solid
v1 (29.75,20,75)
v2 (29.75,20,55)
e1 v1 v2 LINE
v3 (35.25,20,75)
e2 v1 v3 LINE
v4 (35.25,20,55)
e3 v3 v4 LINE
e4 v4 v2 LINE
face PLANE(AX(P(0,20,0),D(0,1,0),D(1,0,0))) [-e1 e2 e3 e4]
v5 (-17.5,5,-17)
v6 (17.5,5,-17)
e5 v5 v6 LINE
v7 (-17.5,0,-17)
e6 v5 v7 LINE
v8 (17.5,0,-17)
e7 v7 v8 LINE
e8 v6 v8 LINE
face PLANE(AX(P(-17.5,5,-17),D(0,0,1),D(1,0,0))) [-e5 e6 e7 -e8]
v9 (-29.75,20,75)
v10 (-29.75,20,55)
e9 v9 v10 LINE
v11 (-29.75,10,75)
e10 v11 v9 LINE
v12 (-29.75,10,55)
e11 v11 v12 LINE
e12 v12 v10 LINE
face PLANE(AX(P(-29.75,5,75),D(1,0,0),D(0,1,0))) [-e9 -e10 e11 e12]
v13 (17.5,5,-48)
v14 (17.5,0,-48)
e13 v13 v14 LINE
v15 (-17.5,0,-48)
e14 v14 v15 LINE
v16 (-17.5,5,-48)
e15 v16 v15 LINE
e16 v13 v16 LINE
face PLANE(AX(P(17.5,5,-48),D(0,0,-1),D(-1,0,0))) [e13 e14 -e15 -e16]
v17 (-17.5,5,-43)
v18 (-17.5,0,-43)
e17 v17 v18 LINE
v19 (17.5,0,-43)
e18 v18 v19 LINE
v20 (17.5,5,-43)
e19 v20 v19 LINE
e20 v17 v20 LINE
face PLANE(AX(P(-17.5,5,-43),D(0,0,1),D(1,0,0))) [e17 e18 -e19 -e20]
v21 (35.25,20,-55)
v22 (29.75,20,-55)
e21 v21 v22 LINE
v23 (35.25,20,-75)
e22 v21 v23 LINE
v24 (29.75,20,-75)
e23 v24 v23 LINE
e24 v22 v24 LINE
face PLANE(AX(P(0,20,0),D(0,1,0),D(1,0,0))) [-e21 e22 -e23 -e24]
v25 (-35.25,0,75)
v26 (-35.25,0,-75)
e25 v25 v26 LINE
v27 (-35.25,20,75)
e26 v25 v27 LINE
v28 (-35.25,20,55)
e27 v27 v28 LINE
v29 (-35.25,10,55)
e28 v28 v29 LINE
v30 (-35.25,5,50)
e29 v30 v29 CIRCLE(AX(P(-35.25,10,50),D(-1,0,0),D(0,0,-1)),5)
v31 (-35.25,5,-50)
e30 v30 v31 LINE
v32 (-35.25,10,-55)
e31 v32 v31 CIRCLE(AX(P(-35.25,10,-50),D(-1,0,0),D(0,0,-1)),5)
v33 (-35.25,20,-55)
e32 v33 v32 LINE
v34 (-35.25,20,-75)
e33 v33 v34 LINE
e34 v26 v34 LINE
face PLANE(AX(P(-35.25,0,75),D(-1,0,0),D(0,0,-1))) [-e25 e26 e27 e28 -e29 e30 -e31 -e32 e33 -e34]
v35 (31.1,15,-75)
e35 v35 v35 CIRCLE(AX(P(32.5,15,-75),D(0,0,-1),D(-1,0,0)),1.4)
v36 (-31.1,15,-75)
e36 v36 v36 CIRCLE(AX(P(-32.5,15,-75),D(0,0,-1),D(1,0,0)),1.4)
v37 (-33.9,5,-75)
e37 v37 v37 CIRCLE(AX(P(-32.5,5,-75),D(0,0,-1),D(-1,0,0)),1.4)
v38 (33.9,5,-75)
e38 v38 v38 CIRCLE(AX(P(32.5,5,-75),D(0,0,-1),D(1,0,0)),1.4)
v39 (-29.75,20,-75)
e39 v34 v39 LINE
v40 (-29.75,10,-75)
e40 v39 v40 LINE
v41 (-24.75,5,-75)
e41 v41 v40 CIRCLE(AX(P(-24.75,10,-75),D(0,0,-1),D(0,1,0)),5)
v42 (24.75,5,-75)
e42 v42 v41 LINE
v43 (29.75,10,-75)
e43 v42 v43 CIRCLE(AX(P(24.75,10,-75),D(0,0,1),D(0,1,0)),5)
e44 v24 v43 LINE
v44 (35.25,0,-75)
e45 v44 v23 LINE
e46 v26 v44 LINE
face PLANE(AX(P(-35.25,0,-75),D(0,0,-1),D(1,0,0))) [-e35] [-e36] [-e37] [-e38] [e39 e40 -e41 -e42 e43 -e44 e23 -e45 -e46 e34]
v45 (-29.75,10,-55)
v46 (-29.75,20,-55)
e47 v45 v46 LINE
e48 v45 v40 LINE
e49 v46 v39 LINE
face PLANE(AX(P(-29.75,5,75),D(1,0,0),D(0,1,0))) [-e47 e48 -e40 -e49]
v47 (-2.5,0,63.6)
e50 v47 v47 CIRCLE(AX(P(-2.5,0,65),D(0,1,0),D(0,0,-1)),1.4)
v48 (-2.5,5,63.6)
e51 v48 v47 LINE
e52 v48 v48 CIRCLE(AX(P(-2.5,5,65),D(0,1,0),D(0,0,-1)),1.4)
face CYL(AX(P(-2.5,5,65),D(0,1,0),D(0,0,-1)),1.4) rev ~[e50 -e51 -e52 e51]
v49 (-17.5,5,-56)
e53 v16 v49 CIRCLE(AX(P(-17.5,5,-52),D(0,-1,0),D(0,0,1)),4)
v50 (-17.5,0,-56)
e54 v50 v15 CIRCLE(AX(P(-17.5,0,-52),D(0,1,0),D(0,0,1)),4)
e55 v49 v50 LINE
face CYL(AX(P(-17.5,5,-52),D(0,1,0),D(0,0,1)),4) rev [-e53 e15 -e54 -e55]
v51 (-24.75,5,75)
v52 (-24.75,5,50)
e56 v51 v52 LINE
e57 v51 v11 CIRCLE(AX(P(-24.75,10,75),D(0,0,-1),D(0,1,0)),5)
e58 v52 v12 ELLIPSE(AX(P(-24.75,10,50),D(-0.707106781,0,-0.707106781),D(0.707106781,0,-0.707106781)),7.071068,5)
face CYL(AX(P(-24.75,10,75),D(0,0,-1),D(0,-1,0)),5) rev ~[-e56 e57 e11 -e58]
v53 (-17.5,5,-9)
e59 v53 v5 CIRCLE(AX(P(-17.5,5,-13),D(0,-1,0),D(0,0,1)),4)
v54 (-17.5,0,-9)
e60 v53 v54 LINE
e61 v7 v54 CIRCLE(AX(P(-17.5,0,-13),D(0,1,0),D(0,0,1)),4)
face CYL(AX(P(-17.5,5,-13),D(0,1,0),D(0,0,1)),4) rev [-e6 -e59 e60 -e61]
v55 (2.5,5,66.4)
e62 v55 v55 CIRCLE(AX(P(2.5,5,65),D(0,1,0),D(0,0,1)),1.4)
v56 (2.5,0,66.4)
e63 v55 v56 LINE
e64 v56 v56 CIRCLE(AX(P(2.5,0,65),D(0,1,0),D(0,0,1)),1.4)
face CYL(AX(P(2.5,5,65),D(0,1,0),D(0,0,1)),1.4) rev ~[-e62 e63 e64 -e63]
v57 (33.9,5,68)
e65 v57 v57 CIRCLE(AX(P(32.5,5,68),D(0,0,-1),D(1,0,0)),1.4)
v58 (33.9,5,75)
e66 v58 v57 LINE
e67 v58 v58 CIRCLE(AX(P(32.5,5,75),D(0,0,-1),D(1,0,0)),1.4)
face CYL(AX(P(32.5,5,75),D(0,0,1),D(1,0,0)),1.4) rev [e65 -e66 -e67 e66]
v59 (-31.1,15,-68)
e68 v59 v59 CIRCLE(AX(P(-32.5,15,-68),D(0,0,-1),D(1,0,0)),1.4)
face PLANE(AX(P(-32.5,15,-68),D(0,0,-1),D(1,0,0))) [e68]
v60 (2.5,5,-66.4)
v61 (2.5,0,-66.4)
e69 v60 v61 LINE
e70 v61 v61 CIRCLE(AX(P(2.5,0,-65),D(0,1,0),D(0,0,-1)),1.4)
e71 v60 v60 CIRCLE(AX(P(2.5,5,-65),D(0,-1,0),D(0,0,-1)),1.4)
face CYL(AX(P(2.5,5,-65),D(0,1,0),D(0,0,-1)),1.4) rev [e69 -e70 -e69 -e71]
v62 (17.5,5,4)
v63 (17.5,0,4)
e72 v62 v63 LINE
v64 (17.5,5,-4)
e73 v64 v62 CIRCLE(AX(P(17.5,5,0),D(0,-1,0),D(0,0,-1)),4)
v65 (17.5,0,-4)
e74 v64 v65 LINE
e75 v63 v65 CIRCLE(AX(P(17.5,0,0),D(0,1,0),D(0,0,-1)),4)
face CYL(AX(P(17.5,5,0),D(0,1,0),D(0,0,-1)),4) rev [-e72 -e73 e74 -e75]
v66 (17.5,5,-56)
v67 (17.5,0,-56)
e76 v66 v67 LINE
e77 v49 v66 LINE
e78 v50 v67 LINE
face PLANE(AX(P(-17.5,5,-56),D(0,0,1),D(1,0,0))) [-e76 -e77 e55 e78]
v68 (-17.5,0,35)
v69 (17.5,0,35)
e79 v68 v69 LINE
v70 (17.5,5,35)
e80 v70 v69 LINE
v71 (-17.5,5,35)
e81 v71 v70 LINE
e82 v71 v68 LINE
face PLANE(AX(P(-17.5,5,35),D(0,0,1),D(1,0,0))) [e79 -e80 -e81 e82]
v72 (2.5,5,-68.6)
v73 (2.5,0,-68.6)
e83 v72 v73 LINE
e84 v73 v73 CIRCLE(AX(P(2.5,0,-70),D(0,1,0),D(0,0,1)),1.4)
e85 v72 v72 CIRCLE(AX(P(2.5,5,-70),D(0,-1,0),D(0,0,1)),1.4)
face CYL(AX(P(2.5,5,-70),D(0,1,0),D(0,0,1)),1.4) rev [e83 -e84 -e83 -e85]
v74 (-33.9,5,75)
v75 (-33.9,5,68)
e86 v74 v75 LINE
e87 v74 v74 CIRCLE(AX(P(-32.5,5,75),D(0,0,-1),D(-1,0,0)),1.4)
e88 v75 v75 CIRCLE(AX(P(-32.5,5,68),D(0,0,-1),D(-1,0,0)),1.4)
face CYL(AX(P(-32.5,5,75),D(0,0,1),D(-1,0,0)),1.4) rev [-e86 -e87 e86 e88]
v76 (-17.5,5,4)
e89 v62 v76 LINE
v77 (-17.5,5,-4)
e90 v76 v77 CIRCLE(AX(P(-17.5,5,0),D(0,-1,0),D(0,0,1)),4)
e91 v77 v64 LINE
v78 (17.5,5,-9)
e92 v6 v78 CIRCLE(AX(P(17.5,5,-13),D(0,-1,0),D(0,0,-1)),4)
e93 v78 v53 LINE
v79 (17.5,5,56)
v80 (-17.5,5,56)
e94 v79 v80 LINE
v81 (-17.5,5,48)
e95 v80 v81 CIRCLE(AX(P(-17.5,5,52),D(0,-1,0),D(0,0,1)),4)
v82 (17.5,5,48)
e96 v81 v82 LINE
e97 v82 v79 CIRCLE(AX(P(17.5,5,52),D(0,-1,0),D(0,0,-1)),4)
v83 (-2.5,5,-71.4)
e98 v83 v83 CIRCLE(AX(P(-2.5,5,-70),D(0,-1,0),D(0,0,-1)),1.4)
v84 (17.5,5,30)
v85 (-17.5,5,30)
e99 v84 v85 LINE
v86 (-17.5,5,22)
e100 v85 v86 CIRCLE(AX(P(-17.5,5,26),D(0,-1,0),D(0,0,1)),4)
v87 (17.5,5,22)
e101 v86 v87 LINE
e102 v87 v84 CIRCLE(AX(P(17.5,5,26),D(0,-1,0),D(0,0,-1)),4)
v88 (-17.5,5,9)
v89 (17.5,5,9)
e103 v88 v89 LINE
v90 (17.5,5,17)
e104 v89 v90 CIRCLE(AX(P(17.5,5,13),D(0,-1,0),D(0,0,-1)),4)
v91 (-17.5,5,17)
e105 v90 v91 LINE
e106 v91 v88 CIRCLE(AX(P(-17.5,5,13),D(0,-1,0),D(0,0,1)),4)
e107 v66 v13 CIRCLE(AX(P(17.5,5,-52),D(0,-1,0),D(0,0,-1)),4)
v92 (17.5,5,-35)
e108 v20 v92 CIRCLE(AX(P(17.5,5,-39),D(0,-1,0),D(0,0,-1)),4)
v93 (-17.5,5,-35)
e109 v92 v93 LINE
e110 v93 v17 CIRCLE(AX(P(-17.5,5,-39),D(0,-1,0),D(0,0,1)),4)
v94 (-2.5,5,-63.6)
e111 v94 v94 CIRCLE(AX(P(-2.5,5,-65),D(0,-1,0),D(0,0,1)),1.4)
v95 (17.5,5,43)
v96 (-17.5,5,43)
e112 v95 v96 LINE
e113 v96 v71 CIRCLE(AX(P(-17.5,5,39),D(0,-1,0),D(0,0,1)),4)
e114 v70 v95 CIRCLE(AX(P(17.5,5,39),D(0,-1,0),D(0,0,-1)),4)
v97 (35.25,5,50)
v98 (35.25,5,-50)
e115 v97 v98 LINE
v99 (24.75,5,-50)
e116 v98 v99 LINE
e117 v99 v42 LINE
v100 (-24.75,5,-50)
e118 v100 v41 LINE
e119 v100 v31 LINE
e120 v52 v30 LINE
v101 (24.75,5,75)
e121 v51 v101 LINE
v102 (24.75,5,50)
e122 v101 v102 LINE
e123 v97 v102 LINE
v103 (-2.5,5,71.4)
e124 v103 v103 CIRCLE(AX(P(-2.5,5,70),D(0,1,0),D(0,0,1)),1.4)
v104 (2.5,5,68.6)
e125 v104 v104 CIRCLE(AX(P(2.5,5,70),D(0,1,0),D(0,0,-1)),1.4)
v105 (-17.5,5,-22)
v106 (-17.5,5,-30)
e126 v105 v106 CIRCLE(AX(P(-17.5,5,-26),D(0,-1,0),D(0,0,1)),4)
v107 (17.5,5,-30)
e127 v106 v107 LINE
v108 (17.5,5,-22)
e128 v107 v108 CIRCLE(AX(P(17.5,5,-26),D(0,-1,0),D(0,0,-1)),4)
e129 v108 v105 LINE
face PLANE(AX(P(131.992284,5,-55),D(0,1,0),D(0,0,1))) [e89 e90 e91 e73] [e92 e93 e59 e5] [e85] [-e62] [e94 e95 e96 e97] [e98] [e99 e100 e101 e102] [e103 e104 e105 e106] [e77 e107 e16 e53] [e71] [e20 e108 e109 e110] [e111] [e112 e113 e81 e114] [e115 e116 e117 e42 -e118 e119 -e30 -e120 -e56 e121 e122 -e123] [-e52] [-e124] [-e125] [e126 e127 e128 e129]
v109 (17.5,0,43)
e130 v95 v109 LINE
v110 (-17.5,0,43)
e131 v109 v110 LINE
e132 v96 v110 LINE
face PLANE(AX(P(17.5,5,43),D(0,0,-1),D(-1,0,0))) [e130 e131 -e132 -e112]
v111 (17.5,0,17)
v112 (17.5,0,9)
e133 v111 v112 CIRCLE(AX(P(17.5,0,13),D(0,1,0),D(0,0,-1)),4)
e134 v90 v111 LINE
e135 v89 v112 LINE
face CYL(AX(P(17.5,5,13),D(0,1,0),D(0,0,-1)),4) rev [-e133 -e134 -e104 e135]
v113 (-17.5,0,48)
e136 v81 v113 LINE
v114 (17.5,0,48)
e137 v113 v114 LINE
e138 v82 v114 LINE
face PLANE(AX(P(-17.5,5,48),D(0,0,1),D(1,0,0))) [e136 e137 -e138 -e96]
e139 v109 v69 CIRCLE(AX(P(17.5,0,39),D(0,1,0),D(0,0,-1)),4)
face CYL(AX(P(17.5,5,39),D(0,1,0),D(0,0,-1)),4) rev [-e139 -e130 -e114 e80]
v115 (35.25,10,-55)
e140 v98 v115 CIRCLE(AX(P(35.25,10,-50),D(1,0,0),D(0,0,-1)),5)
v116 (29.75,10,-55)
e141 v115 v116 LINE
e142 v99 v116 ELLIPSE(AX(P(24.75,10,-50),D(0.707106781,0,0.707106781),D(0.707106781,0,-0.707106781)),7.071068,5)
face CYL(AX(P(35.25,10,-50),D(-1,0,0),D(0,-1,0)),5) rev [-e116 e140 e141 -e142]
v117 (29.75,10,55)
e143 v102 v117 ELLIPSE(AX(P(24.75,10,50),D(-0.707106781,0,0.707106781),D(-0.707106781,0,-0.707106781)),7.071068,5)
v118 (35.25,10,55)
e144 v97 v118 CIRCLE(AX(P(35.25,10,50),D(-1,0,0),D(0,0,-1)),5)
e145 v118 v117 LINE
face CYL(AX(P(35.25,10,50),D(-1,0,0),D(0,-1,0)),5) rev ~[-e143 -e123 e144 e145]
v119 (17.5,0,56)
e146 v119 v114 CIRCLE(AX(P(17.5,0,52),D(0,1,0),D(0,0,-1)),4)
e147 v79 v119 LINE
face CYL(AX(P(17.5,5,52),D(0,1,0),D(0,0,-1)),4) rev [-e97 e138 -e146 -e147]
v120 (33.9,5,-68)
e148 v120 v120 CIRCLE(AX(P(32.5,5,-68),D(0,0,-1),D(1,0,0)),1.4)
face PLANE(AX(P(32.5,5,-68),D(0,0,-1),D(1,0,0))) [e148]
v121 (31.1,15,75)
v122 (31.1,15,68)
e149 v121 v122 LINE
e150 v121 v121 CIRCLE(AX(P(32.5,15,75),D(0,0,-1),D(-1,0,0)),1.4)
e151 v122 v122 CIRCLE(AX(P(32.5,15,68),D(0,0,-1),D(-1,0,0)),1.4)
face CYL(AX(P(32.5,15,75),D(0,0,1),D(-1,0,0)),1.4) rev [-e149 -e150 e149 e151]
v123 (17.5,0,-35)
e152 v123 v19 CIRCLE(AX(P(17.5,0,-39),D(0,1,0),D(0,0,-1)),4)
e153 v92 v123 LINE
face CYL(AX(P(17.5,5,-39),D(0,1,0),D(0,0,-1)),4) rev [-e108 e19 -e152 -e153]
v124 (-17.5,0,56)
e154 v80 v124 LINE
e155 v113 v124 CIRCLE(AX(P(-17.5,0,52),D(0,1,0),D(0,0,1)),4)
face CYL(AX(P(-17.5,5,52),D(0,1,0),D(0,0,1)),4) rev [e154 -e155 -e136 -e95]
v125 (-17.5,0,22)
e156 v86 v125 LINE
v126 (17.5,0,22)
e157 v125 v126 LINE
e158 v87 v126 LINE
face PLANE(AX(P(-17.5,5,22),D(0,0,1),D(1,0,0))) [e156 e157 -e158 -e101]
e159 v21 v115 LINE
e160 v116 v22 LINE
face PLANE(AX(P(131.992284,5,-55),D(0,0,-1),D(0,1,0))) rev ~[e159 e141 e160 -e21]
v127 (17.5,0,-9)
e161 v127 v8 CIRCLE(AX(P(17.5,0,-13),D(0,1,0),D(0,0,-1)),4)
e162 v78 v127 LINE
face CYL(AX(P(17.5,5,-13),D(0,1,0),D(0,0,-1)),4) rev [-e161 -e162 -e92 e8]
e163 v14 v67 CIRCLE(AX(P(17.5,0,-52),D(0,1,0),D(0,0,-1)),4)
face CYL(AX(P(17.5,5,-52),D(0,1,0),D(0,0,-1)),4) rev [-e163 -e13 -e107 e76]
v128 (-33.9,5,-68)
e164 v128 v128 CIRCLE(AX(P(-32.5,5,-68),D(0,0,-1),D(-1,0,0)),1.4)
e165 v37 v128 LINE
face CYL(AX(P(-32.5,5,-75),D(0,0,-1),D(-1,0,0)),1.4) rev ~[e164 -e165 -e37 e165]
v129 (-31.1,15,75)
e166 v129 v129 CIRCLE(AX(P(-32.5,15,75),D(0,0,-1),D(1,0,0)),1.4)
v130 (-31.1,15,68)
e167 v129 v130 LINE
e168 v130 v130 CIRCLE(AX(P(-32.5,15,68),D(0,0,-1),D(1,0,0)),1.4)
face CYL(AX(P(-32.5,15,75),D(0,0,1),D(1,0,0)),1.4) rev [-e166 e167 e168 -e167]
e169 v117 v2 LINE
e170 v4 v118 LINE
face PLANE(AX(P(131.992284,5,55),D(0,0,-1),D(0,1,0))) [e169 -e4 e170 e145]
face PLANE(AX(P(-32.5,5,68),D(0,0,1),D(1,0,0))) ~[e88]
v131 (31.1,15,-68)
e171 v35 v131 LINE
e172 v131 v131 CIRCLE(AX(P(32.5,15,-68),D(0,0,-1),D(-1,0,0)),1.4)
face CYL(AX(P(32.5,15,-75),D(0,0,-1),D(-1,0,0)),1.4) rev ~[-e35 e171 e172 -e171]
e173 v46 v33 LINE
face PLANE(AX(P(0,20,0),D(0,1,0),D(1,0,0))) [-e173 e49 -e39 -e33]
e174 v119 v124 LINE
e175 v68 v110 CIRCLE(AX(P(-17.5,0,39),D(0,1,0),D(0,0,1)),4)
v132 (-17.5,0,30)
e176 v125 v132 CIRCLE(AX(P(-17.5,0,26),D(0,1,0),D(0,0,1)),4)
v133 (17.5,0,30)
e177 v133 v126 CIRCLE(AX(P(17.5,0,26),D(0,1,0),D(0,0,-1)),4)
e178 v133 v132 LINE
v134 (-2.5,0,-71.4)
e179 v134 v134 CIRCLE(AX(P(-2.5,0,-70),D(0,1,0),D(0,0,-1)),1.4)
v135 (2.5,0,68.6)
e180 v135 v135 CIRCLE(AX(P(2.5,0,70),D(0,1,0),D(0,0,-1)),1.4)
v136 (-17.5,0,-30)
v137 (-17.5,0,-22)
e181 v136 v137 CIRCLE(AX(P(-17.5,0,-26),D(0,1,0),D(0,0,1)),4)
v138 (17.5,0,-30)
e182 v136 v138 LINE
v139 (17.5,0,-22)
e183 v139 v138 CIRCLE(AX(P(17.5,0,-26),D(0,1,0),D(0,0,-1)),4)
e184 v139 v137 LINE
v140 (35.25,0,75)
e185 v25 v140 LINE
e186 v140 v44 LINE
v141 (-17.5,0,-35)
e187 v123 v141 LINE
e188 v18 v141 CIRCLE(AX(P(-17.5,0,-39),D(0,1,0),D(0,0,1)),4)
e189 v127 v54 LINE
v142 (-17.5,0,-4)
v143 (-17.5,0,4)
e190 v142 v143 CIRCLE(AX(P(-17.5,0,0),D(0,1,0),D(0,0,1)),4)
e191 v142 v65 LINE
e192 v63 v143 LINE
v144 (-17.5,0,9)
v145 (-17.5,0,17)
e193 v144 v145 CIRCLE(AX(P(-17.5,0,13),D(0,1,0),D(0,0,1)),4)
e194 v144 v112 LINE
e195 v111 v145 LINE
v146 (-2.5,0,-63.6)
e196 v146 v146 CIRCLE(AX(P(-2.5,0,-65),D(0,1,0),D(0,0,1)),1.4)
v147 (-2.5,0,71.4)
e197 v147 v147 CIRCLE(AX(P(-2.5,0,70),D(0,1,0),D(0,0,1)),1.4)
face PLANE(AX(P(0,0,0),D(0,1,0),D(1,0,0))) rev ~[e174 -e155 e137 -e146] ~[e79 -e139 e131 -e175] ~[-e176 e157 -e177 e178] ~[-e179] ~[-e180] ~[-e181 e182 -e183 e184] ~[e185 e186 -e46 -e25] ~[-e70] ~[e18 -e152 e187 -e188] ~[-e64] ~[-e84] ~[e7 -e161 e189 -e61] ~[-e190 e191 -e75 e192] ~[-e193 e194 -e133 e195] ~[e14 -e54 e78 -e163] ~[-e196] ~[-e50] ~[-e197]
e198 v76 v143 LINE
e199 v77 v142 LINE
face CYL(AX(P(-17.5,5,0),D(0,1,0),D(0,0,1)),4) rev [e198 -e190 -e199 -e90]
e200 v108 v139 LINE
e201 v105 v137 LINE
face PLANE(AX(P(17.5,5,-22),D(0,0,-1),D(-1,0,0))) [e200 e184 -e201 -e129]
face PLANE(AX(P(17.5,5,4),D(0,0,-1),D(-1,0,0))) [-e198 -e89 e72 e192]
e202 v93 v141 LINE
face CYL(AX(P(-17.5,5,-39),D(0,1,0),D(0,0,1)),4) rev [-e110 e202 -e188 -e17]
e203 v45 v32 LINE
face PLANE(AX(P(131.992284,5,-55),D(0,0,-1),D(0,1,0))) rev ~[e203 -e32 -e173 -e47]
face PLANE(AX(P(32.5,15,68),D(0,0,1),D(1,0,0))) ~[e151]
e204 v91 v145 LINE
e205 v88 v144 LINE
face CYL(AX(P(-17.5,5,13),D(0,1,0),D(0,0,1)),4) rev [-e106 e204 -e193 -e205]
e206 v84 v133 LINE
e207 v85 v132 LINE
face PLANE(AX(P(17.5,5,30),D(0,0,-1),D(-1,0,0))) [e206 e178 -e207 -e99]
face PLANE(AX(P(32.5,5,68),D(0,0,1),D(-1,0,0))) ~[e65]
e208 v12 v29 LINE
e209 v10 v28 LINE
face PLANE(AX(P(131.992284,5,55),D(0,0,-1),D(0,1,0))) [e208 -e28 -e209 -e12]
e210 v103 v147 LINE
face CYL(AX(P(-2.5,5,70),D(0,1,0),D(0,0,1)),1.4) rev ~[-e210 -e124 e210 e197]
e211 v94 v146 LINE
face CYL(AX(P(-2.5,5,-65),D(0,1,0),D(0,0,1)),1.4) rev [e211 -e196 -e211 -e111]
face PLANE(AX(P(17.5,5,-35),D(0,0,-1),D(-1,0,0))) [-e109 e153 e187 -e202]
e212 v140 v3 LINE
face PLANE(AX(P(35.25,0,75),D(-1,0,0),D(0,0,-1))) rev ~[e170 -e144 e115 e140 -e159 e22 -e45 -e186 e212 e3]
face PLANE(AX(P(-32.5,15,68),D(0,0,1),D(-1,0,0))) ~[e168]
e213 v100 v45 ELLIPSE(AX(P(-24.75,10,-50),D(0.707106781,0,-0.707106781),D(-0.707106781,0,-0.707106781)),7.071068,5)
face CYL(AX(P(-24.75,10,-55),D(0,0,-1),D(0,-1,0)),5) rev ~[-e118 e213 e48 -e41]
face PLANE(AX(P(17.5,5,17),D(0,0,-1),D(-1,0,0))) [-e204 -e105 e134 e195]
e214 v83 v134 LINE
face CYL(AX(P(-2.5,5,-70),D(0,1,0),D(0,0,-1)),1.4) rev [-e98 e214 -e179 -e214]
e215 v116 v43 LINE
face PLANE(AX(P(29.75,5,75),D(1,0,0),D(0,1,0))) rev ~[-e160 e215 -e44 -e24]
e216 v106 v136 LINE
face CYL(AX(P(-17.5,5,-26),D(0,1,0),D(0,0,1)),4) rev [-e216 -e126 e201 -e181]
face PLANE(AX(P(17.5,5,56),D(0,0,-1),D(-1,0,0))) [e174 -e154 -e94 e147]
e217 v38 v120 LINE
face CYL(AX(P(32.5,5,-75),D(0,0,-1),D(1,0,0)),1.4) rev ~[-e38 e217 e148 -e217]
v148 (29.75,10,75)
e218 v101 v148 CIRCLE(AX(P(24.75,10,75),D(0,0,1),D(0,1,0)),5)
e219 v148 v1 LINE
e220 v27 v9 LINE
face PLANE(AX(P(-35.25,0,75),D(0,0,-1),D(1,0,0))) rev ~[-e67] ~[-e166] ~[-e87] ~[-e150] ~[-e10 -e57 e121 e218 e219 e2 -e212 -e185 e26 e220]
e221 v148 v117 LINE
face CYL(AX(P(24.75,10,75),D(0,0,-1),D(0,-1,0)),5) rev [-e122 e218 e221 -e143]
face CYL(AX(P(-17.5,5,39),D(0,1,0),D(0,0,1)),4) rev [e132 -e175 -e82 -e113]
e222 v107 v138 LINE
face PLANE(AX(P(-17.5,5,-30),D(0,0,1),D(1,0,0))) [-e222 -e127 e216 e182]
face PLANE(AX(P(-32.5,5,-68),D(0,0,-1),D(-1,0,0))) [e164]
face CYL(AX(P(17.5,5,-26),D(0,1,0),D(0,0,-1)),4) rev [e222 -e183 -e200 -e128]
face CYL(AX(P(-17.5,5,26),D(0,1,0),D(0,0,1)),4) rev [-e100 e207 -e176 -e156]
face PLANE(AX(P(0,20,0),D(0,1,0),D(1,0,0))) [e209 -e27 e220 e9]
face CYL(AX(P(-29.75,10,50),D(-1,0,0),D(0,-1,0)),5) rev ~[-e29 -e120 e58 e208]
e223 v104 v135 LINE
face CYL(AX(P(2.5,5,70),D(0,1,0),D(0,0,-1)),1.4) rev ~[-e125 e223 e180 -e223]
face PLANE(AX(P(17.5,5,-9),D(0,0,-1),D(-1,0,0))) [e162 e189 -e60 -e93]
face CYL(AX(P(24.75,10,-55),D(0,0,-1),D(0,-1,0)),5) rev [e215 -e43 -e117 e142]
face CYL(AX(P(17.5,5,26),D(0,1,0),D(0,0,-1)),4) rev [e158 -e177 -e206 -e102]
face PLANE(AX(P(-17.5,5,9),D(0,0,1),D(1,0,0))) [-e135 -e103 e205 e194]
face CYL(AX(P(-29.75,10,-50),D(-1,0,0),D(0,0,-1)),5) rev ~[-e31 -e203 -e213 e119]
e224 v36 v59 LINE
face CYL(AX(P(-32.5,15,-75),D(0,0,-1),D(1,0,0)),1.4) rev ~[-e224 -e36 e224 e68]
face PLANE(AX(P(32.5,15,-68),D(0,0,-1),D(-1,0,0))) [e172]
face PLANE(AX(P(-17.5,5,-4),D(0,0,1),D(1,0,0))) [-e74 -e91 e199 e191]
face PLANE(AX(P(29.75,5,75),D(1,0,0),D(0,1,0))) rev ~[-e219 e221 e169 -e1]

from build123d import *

# Parameters (mm, degrees)
SKETCH1_W               = 70.5
SKETCH1_H               = 150
BOSS_EXTRUDE1_DEPTH     = 20
SKETCH2_R               = 1.4
CUT_EXTRUDE1_DEPTH      = 7
SKETCH3_W               = 59.5
SKETCH3_H               = 15
CUT_EXTRUDE2_DEPTH      = 156.378771072
CUT_EXTRUDE5_DEPTH      = 102.242283657
CUT_EXTRUDE5_DEPTH_BACK = 102.242283657
SKETCH7_W               = 110
SKETCH7_H               = 15
FILLET1_R               = 5
SKETCH5_R               = 1.4
CUT_EXTRUDE3_DEPTH      = 85.217352725
CUT_EXTRUDE4_DEPTH      = 85.217352725
LPATTERN1_COUNT         = 5
LPATTERN1_PITCH         = 13
LPATTERN1_COL_COUNT     = 5
LPATTERN1_COL_PITCH     = 13


with BuildPart() as part:
    # Sketch1 → Boss-Extrude1 (new body)
    with BuildSketch(Plane(origin=(0, 0, 0), x_dir=(1, 0, 0), z_dir=(0, 1, 0))):
        Rectangle(SKETCH1_W, SKETCH1_H)
    extrude(amount=BOSS_EXTRUDE1_DEPTH)

    # Sketch2 → Cut-Extrude1 (cut)
    with BuildSketch(Plane(origin=(0, 0, -75), x_dir=(-1, 0, 0), z_dir=(0, 0, -1))):
        with Locations((-32.5, 15)):
            Circle(SKETCH2_R)
        with Locations(Location((-32.5, 5, 0), (0, 0, 180))):
            Circle(SKETCH2_R)
        with Locations((32.5, 5)):
            Circle(SKETCH2_R)
        with Locations(Location((32.5, 15, 0), (0, 0, 180))):
            Circle(SKETCH2_R)
    cut_extrude1 = extrude(amount=-CUT_EXTRUDE1_DEPTH, mode=Mode.SUBTRACT)

    # Sketch3 → Cut-Extrude2 (cut, through all)
    with BuildSketch(Plane.XY.offset(75)):
        with Locations((0, 12.5)):
            Rectangle(SKETCH3_W, SKETCH3_H)
    extrude(amount=-CUT_EXTRUDE2_DEPTH, mode=Mode.SUBTRACT)

    # Sketch7 → Cut-Extrude5 (cut, two sides: drawn at the far end of the back side and taken through both)
    with BuildSketch(Plane.ZY.offset(-29.75).offset(-CUT_EXTRUDE5_DEPTH_BACK)):
        with Locations((0, 12.5)):
            Rectangle(SKETCH7_W, SKETCH7_H)
    extrude(amount=CUT_EXTRUDE5_DEPTH + CUT_EXTRUDE5_DEPTH_BACK, mode=Mode.SUBTRACT)

    # Fillet1
    fillet1_edges = [part.edges().sort_by_distance(p)[0] for p in [
        (-29.75, 5, -65),
        (29.75, 5, -65),
        (29.75, 5, 65),
        (-29.75, 5, 65),
        (-32.5, 5, 55),
        (32.5, 5, 55),
        (-32.5, 5, -55),
        (32.5, 5, -55),
    ]]
    fillet(fillet1_edges, radius=FILLET1_R)

    # Sketch5 → Cut-Extrude3 (cut, through all)
    with BuildSketch(Plane(origin=(0, 5, 0), x_dir=(1, 0, 0), z_dir=(0, 1, 0))):
        with Locations(Location((-2.5, -70, 0), (0, 0, 270))):
            Circle(SKETCH5_R)
        with Locations(Location((2.5, -70, 0), (0, 0, 90))):
            Circle(SKETCH5_R)
        with Locations(Location((2.5, -65, 0), (0, 0, 270))):
            Circle(SKETCH5_R)
        with Locations(Location((-2.5, -65, 0), (0, 0, 90))):
            Circle(SKETCH5_R)
    cut_extrude3 = extrude(amount=-CUT_EXTRUDE3_DEPTH, mode=Mode.SUBTRACT)

    # Mirror1: Cut-Extrude1, Cut-Extrude3 across plane
    add(cut_extrude1.mirror(Plane.XY), mode=Mode.SUBTRACT)
    add(cut_extrude3.mirror(Plane.XY), mode=Mode.SUBTRACT)

    # Sketch6 → Cut-Extrude4 (cut, through all)
    with BuildSketch(Plane(origin=(0, 5, 0), x_dir=(1, 0, 0), z_dir=(0, 1, 0))):
        with BuildLine():
            Line((-17.5, 4), (17.5, 4))
            ThreePointArc((17.5, 4), (21.5, 0), (17.5, -4))
            Line((17.5, -4), (-17.5, -4))
            ThreePointArc((-17.5, -4), (-21.5, 0), (-17.5, 4))
        make_face()
    cut_extrude4 = extrude(amount=-CUT_EXTRUDE4_DEPTH, mode=Mode.SUBTRACT)

    # LPattern1: Cut-Extrude4 ×5
    with Locations(*[(0, 0, i * LPATTERN1_PITCH) for i in range(1, LPATTERN1_COUNT)]):
        add(cut_extrude4, mode=Mode.SUBTRACT)

    # LPattern1 col: Cut-Extrude4 ×5
    with Locations(*[(0, 0, -i * LPATTERN1_COL_PITCH) for i in range(1, LPATTERN1_COL_COUNT)]):
        add(cut_extrude4, mode=Mode.SUBTRACT)


solid = part.part
